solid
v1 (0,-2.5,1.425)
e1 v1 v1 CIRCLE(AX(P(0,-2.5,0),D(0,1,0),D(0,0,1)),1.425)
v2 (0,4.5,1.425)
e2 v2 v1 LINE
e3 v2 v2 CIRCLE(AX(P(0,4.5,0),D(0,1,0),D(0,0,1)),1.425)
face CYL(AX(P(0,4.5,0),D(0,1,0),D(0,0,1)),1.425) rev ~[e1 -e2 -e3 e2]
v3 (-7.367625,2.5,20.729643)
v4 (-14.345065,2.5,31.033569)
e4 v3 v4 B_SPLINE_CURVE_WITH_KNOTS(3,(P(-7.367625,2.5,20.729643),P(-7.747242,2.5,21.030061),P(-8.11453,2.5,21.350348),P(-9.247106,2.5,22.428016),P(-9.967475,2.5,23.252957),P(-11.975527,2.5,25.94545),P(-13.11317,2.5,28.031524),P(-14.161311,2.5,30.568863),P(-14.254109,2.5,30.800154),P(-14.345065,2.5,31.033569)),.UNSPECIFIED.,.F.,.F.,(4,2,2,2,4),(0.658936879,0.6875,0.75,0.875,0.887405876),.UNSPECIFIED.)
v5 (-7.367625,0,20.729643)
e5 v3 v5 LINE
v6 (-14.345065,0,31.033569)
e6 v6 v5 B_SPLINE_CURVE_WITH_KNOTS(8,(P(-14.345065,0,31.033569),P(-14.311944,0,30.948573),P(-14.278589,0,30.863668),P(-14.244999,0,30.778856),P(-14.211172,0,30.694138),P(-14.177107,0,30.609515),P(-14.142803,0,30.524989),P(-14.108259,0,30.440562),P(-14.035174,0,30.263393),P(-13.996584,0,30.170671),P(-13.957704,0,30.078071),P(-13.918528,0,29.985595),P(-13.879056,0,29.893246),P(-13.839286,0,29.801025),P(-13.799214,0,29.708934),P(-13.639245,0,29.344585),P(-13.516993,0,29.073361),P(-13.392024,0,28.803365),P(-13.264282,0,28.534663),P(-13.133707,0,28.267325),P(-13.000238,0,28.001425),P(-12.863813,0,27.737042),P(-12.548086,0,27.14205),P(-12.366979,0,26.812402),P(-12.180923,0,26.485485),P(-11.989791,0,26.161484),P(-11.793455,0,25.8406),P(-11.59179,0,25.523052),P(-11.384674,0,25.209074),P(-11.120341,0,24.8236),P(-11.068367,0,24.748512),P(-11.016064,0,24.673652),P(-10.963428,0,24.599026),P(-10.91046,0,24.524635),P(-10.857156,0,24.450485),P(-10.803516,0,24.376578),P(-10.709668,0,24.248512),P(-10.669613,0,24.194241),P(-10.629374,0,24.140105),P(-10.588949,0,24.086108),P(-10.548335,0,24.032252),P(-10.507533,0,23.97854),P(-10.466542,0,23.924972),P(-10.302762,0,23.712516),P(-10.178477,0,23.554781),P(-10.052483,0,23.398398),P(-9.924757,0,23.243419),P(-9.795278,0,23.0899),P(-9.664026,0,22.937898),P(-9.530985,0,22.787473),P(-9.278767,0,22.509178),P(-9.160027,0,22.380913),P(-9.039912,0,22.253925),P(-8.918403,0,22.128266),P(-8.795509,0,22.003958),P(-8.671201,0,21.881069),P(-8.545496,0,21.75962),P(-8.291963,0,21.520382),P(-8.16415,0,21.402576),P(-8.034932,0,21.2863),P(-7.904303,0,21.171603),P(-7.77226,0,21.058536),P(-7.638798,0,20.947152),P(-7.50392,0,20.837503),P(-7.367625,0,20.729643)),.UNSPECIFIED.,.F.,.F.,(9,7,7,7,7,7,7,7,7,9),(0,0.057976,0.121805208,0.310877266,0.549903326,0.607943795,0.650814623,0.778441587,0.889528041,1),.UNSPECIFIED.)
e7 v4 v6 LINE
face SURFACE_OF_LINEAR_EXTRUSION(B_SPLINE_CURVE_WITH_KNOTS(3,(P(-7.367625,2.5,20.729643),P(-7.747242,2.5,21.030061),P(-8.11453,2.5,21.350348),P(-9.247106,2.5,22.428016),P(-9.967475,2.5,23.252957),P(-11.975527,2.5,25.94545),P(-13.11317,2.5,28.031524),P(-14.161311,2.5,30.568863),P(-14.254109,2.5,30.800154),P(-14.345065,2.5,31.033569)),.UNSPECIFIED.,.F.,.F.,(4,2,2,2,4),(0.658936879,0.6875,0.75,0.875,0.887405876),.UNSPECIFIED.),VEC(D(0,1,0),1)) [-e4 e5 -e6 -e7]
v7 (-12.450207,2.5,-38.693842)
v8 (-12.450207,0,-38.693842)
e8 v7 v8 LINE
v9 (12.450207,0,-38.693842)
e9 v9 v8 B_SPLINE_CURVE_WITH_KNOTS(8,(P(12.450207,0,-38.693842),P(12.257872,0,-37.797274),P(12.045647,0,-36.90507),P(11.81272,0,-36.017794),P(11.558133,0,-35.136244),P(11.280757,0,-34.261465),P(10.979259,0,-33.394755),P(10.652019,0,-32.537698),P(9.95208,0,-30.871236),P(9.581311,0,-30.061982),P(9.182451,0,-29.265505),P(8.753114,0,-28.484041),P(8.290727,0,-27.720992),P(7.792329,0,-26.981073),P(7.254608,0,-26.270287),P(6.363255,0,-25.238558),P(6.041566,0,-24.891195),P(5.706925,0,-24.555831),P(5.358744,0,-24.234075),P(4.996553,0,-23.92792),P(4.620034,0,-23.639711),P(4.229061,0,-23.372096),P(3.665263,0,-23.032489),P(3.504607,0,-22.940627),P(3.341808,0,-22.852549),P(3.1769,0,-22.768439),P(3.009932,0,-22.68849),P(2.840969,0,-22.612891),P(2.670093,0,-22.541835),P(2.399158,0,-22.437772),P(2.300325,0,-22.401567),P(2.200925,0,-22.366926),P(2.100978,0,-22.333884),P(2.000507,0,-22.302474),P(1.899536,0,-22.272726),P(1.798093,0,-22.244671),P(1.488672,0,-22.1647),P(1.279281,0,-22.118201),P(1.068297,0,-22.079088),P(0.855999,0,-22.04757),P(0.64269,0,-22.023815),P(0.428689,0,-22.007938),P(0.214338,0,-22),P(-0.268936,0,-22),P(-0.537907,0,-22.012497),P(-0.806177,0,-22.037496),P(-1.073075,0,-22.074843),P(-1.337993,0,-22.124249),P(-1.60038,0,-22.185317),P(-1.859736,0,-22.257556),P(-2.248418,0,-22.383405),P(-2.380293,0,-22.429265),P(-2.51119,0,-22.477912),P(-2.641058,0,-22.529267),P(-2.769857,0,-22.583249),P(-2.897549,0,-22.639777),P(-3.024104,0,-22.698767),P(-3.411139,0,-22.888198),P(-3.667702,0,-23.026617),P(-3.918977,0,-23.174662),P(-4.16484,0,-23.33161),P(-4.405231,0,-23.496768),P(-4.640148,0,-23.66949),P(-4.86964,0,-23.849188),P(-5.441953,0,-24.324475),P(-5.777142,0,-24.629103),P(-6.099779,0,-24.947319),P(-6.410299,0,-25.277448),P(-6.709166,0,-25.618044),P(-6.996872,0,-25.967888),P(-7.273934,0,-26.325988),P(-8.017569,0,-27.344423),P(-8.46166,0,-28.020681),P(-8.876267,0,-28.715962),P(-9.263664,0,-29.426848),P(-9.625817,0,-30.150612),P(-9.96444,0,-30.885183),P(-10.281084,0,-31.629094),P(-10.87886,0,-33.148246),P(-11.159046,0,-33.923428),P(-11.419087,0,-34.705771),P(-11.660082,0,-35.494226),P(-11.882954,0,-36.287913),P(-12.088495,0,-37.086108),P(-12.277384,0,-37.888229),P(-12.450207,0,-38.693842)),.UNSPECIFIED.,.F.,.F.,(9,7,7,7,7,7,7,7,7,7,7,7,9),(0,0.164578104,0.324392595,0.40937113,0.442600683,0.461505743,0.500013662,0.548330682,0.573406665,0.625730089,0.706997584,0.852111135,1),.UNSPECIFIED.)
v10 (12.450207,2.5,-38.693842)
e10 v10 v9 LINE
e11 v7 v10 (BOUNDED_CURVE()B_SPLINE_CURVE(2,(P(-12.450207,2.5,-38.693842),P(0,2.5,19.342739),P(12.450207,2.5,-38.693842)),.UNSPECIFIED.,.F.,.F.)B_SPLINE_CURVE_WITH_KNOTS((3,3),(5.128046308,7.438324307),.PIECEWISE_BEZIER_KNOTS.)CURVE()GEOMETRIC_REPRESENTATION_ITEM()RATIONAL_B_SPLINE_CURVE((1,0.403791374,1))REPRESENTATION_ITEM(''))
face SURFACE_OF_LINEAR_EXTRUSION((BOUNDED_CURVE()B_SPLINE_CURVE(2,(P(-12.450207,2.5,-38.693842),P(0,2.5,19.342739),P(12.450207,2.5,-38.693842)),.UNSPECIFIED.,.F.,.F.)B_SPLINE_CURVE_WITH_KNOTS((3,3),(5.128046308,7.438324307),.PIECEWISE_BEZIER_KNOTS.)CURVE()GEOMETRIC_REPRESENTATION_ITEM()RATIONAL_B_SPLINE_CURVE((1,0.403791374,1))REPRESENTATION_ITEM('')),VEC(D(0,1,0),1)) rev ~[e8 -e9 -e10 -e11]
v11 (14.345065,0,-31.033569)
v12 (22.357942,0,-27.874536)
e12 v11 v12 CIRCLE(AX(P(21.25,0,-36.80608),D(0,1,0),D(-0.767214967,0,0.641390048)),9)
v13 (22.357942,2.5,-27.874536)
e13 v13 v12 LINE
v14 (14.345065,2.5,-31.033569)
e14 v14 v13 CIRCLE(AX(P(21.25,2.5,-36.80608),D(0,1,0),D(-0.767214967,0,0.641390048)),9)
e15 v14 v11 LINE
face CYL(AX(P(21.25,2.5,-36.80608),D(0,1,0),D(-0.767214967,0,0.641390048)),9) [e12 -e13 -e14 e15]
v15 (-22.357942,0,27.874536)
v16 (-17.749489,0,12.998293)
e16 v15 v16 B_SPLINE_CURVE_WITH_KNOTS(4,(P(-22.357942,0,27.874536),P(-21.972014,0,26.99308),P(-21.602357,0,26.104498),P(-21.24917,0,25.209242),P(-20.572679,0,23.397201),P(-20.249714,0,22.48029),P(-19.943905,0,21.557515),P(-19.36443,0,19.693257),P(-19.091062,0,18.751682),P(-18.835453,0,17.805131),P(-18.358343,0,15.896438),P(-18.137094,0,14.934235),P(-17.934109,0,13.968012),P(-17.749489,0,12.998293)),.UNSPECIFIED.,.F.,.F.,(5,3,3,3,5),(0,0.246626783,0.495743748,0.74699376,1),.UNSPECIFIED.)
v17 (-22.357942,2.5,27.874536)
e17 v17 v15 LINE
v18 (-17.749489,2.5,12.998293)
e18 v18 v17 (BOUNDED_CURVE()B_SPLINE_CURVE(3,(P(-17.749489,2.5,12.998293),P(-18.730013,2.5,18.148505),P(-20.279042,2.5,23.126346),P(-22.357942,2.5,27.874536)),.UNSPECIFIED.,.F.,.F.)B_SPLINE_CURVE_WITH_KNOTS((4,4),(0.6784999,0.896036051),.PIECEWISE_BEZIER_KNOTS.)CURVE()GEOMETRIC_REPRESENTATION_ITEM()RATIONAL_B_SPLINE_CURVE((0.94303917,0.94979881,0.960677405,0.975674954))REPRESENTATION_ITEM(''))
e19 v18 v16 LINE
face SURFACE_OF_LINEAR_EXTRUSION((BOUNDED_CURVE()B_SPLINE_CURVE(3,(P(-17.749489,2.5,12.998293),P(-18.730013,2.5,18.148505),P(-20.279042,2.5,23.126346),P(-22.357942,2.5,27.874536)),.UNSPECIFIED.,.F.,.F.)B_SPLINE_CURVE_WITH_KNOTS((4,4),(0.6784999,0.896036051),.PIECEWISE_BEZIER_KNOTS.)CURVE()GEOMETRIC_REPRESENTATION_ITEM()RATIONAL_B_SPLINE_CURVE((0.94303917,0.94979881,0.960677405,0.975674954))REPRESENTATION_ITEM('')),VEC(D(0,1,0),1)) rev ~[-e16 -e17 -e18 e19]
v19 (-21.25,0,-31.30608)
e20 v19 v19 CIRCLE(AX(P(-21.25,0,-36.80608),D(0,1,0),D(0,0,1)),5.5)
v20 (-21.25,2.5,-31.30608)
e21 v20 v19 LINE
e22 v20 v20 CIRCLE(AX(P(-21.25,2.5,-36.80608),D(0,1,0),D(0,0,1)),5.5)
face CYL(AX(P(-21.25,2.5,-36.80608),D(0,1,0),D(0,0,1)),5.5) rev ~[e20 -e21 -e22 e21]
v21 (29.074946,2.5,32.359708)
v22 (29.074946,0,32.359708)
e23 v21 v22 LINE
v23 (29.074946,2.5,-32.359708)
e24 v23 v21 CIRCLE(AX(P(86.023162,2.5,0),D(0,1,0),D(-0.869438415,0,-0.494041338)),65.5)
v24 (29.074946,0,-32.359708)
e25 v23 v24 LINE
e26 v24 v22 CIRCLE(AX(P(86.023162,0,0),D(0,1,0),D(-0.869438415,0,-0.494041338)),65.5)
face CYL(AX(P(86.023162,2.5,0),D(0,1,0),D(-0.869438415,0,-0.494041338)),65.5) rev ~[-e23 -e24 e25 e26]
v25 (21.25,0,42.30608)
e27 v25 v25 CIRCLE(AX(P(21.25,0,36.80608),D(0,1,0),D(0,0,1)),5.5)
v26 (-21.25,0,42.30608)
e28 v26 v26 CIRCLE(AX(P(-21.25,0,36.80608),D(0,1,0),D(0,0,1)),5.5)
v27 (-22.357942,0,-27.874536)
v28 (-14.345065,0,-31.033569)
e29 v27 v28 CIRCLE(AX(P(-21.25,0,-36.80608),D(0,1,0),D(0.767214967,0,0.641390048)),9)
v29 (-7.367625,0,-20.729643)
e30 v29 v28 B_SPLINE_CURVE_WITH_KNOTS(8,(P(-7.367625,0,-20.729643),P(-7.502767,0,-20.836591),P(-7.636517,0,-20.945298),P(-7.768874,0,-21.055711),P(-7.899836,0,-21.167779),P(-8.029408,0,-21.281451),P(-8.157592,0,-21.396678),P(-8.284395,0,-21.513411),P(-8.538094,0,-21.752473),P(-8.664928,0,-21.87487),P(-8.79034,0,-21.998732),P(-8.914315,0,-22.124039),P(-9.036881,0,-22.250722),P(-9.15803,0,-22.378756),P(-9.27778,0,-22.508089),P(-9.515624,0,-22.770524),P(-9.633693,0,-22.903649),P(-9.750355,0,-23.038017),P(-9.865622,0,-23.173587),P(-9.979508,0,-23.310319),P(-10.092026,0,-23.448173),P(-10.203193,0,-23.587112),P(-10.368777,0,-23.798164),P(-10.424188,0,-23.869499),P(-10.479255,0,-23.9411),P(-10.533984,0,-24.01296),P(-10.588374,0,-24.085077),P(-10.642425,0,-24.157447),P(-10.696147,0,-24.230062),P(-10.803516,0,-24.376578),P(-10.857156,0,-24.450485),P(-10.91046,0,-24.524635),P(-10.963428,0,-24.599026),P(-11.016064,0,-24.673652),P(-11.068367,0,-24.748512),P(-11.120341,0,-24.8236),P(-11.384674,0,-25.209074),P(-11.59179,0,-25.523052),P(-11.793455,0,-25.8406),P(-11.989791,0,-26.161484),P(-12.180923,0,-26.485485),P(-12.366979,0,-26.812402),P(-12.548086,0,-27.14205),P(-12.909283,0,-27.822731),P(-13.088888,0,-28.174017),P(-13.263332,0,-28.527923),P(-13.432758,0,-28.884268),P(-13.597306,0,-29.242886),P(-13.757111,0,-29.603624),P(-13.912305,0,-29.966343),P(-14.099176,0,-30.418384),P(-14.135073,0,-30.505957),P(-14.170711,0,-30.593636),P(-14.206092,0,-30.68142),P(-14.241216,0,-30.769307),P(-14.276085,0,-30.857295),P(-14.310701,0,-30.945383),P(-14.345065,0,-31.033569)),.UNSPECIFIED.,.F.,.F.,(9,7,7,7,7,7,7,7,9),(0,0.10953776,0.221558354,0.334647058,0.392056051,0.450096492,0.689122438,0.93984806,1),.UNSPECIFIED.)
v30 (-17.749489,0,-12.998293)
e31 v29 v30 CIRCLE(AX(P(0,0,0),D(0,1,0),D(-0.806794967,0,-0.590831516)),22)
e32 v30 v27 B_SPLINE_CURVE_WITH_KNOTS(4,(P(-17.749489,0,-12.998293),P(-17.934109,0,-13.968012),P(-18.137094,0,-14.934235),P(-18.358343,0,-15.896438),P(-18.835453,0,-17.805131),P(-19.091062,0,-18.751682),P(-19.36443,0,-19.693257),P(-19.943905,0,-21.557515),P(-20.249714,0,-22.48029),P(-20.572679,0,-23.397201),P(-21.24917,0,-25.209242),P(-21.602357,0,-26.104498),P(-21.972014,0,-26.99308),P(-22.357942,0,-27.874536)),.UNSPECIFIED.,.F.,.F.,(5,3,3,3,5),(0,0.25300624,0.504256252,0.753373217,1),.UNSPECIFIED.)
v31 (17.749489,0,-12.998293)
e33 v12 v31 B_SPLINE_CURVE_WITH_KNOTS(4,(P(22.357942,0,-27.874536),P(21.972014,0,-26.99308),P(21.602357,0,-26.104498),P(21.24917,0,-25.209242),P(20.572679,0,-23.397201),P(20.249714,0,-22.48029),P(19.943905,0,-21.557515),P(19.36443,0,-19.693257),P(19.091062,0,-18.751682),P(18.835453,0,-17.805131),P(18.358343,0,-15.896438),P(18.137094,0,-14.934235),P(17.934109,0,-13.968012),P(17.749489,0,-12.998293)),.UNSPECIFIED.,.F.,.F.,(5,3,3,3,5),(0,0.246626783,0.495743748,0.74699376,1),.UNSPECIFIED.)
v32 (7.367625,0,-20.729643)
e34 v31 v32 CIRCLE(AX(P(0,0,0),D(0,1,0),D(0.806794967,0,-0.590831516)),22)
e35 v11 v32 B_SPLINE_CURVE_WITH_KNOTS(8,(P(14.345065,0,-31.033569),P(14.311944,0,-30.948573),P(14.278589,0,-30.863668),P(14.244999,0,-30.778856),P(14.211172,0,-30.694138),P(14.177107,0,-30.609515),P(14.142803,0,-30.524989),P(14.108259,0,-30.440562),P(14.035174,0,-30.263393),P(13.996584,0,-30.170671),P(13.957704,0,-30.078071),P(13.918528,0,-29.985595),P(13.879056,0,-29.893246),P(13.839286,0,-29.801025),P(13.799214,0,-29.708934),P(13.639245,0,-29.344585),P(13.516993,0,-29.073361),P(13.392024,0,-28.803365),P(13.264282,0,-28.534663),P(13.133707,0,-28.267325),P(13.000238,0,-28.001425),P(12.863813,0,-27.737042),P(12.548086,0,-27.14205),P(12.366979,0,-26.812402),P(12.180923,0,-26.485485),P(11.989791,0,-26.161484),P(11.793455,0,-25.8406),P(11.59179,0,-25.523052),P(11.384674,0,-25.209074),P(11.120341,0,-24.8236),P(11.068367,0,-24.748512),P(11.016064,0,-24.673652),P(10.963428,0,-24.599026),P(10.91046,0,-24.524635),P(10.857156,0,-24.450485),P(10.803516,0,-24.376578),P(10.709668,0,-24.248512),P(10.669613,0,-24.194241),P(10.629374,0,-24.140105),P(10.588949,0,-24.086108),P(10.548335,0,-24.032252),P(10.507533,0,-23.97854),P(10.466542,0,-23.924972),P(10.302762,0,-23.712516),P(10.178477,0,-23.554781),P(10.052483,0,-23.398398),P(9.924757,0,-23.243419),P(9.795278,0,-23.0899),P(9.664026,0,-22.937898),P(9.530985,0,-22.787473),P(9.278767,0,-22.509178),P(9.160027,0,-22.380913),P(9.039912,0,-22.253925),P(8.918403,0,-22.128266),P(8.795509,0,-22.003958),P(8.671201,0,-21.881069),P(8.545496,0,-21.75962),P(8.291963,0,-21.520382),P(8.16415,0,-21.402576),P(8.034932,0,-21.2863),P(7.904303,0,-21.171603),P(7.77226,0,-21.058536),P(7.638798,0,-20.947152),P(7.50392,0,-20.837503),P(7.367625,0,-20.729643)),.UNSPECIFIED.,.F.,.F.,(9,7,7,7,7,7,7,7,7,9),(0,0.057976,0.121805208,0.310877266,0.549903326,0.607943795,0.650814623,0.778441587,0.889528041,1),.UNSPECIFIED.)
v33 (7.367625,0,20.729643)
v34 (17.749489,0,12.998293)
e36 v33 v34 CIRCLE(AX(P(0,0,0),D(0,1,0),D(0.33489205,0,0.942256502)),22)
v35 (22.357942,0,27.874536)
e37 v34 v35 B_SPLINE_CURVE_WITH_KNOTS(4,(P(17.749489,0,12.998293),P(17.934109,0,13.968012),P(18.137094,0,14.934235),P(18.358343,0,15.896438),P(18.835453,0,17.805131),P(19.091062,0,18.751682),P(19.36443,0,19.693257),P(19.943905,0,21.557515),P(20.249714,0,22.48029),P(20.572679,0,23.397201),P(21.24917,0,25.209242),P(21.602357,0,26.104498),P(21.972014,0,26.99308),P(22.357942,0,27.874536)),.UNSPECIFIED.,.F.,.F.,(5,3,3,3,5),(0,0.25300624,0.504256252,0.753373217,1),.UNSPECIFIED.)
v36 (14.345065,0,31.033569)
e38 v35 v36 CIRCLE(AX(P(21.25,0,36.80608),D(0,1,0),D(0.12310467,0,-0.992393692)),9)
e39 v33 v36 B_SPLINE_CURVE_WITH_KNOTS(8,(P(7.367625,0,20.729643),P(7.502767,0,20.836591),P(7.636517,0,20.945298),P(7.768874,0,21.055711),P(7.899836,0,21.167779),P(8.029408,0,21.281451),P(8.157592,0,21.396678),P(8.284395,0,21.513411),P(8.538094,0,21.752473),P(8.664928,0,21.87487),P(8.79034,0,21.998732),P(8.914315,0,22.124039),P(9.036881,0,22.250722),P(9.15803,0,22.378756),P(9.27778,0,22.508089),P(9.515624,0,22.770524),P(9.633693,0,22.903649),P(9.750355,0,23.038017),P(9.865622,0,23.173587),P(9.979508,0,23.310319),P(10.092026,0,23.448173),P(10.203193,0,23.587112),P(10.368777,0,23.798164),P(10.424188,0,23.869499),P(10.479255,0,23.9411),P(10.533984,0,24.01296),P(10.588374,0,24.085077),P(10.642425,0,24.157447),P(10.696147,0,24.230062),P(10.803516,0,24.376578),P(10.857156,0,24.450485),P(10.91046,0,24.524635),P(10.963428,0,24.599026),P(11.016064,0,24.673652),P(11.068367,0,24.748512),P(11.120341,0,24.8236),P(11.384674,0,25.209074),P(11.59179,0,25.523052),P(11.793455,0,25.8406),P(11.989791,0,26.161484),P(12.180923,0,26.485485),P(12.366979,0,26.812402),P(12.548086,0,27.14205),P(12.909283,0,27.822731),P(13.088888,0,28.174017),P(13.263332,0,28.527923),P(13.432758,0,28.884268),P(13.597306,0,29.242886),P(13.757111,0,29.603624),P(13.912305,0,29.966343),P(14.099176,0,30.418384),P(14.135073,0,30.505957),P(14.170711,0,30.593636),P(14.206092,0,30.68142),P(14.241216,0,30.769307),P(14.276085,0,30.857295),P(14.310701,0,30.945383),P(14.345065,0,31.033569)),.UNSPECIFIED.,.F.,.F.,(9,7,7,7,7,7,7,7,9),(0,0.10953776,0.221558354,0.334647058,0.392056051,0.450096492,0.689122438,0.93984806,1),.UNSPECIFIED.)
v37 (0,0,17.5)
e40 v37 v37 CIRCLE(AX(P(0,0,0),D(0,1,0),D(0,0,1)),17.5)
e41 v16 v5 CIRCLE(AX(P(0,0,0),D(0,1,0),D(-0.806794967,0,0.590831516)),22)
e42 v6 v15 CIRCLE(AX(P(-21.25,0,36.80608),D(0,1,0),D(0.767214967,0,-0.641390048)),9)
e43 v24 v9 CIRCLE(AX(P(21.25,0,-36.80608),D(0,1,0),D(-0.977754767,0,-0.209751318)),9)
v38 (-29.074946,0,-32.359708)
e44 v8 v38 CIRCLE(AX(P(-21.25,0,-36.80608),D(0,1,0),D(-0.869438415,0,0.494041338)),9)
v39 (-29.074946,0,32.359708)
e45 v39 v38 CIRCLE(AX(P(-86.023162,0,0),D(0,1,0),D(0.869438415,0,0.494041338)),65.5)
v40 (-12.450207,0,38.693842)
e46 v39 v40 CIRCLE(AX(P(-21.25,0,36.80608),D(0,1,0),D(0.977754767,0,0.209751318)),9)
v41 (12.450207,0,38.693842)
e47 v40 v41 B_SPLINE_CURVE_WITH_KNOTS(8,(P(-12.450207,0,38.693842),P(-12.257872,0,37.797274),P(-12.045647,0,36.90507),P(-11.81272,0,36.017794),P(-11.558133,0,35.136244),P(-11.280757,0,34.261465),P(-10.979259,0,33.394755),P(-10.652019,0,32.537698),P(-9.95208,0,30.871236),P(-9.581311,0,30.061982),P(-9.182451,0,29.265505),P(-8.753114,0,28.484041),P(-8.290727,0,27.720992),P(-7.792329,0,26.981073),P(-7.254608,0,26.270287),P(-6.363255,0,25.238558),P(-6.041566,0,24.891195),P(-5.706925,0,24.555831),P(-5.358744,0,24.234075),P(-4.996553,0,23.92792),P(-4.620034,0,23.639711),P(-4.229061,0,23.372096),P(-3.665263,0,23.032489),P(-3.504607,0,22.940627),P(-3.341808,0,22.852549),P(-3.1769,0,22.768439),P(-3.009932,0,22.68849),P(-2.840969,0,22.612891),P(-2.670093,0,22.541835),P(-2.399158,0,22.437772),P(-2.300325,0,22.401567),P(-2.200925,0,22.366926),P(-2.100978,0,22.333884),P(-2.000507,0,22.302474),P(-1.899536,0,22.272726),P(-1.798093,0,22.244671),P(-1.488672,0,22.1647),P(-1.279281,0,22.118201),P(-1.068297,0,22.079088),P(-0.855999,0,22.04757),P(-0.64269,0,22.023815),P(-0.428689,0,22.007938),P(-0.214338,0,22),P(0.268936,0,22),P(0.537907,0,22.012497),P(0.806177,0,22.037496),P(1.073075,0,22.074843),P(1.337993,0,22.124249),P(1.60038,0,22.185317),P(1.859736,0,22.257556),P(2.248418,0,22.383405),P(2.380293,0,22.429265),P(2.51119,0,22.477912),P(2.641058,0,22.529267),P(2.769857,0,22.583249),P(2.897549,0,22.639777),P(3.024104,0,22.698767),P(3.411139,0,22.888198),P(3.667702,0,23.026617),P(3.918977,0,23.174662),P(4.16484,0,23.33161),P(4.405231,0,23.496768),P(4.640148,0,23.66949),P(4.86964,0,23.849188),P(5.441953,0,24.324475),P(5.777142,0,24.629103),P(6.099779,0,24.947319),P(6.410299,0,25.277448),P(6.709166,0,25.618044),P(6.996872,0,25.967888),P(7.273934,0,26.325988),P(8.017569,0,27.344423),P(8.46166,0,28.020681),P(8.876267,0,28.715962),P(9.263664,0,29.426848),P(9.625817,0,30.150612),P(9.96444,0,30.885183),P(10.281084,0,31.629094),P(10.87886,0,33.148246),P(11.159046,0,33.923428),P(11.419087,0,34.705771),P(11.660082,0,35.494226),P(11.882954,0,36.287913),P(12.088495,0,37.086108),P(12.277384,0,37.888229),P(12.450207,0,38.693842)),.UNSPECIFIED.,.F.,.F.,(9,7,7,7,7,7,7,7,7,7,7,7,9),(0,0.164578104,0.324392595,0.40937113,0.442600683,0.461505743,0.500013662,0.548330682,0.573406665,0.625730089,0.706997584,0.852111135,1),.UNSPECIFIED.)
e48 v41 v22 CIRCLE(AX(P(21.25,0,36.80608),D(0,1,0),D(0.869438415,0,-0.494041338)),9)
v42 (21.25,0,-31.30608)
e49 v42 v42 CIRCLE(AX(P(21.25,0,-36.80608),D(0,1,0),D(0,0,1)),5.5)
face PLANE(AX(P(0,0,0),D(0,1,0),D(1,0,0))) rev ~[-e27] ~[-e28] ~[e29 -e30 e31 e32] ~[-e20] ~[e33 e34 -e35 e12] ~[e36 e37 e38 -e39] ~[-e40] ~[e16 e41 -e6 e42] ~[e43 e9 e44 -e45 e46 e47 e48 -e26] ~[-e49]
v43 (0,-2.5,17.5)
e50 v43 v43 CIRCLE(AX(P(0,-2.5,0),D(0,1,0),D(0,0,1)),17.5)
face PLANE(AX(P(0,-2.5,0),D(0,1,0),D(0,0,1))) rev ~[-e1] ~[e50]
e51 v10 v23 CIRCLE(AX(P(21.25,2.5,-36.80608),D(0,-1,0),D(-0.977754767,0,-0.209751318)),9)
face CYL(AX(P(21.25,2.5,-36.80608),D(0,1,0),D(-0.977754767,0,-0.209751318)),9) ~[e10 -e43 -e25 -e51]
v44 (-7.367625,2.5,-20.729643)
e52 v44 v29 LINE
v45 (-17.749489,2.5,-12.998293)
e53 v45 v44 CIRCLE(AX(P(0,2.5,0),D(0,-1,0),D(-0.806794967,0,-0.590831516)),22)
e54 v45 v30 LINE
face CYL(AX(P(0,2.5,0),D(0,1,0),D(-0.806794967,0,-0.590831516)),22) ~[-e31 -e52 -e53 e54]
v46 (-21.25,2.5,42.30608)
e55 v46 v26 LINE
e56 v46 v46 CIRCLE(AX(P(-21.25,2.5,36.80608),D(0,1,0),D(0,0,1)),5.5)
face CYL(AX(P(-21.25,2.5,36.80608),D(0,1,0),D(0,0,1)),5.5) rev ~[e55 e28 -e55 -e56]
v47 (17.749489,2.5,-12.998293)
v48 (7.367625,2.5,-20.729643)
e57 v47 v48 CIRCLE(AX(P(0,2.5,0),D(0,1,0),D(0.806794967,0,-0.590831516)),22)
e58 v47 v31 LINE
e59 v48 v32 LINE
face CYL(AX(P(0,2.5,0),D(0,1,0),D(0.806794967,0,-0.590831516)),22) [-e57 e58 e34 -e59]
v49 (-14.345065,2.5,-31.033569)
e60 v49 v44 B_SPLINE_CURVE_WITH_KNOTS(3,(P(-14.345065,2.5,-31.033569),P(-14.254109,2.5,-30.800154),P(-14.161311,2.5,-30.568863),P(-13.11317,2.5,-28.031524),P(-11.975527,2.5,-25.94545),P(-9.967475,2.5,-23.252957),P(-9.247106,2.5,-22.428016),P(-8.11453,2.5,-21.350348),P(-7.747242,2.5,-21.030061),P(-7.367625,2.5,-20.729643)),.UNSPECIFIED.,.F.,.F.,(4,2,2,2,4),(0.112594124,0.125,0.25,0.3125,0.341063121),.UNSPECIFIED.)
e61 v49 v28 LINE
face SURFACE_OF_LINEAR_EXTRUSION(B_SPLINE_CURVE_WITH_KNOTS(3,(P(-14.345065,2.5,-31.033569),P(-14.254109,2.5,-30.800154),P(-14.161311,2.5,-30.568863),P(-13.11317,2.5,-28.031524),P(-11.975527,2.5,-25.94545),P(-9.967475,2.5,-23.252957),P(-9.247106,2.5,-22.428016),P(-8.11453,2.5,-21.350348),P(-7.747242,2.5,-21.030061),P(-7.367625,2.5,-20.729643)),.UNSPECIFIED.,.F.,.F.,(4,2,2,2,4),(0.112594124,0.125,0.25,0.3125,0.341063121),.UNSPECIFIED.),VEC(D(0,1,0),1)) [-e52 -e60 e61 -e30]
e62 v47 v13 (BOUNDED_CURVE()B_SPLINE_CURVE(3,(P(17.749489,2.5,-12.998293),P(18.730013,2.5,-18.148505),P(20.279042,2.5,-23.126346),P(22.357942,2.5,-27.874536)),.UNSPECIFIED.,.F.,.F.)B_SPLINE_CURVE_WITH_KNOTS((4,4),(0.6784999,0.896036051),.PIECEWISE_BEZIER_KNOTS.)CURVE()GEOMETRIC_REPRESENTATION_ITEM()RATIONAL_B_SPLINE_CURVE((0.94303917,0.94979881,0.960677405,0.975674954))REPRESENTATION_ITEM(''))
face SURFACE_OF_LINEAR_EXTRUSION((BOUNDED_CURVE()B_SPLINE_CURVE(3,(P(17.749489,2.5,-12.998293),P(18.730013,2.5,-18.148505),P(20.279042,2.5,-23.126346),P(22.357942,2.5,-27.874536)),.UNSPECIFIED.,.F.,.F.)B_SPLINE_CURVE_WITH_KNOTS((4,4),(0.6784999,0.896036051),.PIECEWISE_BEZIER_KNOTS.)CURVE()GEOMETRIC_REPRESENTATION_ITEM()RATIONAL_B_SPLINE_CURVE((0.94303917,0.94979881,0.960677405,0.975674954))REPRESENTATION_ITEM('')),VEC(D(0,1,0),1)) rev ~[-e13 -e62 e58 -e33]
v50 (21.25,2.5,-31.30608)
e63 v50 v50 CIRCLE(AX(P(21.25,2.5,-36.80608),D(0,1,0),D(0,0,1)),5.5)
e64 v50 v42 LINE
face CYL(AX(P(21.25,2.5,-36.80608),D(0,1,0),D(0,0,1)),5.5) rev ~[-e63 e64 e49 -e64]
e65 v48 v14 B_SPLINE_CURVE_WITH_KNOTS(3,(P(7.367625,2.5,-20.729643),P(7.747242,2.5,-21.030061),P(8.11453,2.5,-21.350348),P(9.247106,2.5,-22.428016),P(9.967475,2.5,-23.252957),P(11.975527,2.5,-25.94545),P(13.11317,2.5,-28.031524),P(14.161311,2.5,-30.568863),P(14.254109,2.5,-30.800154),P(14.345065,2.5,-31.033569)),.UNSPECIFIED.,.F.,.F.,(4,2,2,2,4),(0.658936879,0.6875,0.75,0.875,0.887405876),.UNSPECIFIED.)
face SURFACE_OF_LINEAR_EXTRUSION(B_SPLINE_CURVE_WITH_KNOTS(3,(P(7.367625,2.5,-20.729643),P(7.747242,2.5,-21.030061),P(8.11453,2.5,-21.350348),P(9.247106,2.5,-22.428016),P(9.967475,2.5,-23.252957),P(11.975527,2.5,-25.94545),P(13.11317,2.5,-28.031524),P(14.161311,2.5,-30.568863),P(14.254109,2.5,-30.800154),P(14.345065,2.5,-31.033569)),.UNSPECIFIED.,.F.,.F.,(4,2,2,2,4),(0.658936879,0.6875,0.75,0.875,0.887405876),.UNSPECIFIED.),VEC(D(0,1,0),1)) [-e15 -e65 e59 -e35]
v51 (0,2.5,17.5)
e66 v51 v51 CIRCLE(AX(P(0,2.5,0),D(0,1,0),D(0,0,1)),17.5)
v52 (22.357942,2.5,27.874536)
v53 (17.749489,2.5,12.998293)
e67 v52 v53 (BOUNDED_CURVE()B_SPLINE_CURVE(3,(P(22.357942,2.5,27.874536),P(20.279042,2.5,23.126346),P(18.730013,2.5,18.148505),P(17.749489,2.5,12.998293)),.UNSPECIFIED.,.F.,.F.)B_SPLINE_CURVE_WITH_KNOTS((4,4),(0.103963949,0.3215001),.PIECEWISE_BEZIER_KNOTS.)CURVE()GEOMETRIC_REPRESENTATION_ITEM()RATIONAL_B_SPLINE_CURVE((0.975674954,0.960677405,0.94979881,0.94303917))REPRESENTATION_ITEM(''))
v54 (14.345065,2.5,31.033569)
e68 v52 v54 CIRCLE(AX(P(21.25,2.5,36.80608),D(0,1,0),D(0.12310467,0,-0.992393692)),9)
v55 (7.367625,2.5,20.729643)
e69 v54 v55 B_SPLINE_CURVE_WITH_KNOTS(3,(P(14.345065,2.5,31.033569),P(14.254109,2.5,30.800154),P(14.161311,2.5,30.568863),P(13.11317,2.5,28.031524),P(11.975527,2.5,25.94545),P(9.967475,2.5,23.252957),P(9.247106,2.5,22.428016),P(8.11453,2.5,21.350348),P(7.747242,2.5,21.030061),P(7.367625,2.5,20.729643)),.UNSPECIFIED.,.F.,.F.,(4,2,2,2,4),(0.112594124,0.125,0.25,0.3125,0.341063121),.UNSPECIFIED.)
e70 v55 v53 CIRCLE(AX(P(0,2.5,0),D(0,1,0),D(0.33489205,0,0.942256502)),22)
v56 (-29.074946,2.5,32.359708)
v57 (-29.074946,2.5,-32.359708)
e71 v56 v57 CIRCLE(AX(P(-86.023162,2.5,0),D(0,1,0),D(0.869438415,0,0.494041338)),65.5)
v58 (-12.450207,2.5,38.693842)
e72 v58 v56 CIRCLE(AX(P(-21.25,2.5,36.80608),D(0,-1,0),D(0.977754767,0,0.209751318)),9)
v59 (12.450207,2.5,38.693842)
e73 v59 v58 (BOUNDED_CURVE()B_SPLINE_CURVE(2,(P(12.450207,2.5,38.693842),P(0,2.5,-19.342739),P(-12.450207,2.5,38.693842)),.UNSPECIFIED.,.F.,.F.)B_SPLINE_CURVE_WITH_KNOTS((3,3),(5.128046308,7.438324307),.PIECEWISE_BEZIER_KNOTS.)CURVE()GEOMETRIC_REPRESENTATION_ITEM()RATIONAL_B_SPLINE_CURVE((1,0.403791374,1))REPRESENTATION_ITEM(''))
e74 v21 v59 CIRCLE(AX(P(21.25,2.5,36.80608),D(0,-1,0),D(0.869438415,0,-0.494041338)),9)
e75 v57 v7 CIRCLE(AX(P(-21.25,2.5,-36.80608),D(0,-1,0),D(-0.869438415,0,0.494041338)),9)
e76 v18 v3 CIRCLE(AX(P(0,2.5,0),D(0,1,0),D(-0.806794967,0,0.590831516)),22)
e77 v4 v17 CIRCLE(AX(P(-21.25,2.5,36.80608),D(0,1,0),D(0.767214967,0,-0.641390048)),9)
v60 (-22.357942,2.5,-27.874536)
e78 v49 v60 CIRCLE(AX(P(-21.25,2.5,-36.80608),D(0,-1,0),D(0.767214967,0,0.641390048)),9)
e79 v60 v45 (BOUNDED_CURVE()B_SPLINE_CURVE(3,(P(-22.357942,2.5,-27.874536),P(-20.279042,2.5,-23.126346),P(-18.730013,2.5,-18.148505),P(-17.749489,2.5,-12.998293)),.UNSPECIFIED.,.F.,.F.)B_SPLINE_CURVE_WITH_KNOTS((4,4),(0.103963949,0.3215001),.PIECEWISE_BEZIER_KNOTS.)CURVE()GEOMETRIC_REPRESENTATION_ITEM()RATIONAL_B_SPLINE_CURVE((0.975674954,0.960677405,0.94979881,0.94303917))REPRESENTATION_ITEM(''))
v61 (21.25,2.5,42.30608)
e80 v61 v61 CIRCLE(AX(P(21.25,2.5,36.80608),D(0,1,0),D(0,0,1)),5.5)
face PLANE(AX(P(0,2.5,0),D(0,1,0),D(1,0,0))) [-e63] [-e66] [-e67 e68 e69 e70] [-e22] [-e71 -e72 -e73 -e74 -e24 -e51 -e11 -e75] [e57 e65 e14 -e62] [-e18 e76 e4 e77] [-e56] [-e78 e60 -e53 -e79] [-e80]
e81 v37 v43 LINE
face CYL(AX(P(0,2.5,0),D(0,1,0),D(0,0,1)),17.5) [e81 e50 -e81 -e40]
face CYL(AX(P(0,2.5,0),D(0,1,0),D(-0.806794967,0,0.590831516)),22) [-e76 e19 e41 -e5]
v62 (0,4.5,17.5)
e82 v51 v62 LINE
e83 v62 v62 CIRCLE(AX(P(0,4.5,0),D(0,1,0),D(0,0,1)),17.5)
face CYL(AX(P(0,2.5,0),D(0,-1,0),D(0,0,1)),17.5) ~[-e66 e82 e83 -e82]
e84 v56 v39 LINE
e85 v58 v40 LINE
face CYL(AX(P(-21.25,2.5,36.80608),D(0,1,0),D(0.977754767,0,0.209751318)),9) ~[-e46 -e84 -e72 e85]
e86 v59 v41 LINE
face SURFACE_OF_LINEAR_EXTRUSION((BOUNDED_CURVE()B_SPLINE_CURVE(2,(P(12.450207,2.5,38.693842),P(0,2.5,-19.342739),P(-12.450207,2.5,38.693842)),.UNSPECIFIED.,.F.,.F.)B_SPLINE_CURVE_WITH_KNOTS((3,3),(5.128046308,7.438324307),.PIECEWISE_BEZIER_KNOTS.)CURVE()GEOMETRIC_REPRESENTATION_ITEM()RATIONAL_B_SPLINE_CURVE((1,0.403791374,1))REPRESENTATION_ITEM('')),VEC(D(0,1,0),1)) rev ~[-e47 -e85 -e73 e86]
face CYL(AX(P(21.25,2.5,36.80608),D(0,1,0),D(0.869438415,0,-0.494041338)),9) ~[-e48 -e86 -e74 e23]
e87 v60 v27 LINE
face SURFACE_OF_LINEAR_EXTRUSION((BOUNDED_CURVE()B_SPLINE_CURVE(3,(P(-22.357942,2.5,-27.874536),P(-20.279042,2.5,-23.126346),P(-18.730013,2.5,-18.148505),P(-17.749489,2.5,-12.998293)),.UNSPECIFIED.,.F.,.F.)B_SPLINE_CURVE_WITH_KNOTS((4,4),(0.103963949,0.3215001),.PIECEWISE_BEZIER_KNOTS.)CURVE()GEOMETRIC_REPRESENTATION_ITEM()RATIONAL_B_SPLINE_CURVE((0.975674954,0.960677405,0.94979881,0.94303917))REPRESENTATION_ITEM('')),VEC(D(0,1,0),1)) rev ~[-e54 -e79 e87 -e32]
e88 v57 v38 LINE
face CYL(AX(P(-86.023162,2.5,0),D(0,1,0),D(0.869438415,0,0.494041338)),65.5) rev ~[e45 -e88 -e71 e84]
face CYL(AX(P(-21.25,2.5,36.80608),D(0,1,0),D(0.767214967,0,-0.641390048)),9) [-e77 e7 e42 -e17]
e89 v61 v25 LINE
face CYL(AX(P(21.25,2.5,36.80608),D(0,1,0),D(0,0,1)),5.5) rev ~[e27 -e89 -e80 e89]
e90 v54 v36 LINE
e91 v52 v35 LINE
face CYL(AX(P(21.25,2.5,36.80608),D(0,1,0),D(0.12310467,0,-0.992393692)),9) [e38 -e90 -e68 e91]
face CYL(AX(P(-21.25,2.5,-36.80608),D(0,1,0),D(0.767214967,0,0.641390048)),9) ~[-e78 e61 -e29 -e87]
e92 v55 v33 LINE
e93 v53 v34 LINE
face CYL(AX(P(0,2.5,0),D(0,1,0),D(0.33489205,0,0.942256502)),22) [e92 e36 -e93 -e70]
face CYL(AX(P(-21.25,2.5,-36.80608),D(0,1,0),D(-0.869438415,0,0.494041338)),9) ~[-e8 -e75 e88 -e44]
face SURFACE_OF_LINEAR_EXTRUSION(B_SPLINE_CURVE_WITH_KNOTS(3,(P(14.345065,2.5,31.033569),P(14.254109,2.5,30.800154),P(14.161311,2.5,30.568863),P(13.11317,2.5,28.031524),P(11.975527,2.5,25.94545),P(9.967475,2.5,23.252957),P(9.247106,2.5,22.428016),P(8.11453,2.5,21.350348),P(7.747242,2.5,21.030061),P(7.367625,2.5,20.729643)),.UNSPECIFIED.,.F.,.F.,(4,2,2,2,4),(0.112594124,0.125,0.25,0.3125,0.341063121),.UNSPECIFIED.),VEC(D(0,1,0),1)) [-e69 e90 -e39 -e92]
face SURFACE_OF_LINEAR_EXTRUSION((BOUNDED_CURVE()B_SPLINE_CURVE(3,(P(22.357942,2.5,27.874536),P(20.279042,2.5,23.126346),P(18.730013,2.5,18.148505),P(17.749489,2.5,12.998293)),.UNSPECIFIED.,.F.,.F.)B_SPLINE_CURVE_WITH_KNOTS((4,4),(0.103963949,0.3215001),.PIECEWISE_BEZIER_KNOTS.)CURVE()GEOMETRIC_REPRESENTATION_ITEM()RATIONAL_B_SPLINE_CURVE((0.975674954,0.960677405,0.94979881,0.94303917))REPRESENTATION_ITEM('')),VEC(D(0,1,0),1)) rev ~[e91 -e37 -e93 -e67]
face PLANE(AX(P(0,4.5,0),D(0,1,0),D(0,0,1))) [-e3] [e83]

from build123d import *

# Parameters (mm, degrees)
SKETCH1_W                 = 100
SKETCH1_H                 = 100
BOSS_EXTRUDE1_DEPTH       = 2.5
SKETCH2_W                 = 100
SKETCH2_H                 = 100
SKETCH2_R                 = 5.5
CUT_EXTRUDE1_DEPTH        = 10
CUT_EXTRUDE3_DEPTH        = 10
SKETCH6_R                 = 17.5
BOSS_EXTRUDE11_DEPTH      = 2
BOSS_EXTRUDE11_DEPTH_BACK = 5
SKETCH7_R                 = 1.425
CUT_EXTRUDE4_DEPTH        = 56.337685614


with BuildPart() as part:
    # Sketch1 → Boss-Extrude1 (new body)
    with BuildSketch(Plane(origin=(0, 0, 0), x_dir=(1, 0, 0), z_dir=(0, 1, 0))):
        Rectangle(SKETCH1_W, SKETCH1_H)
    extrude(amount=BOSS_EXTRUDE1_DEPTH)

    # Sketch2 → Cut-Extrude1 (cut)
    with BuildSketch(Plane(origin=(0, 2.5, 0), x_dir=(1, 0, 0), z_dir=(0, 1, 0))):
        Rectangle(SKETCH2_W, SKETCH2_H)
        with BuildLine():
            ThreePointArc((-29.074945731, -32.359707621), (-20.523161881, 0), (-29.074945731, 32.359707621))
            ThreePointArc((-29.074945731, 32.359707621), (-24.454355603, 45.216317777), (-12.450207096, 38.693841525))
            add(Edge.make_bspline(
                [(-12.450207096, 38.693841525), (0, -19.342739332), (12.450207096, 38.693841525)],
                knots=[5.128046308, 5.128046308, 5.128046308, 7.438324307, 7.438324307, 7.438324307], degree=2, weights=[1, 0.403791374, 1]))
            ThreePointArc((12.450207096, 38.693841525), (24.454355603, 45.216317777), (29.074945731, 32.359707621))
            ThreePointArc((29.074945731, 32.359707621), (20.523161881, 0), (29.074945731, -32.359707621))
            ThreePointArc((29.074945731, -32.359707621), (24.454355603, -45.216317777), (12.450207096, -38.693841525))
            add(Edge.make_bspline(
                [(12.450207096, -38.693841525), (0, 19.342739332), (-12.450207096, -38.693841525)],
                knots=[5.128046308, 5.128046308, 5.128046308, 7.438324307, 7.438324307, 7.438324307], degree=2, weights=[1, 0.403791374, 1]))
            ThreePointArc((-12.450207096, -38.693841525), (-24.454355603, -45.216317777), (-29.074945731, -32.359707621))
        make_face(mode=Mode.SUBTRACT)
        with Locations(Location((-21.25, 36.806079661, 0), (0, 0, 270))):
            Circle(SKETCH2_R)
        with Locations(Location((-21.25, -36.806079661, 0), (0, 0, 270))):
            Circle(SKETCH2_R)
        with Locations(Location((21.25, -36.806079661, 0), (0, 0, 270))):
            Circle(SKETCH2_R)
        with Locations(Location((21.25, 36.806079661, 0), (0, 0, 270))):
            Circle(SKETCH2_R)
    extrude(amount=-CUT_EXTRUDE1_DEPTH, mode=Mode.SUBTRACT)

    # Sketch4 → Cut-Extrude3 (cut)
    with BuildSketch(Plane(origin=(0, 2.5, 0), x_dir=(1, 0, 0), z_dir=(0, 1, 0))):
        with BuildLine():
            ThreePointArc((-17.749489284, -12.998293356), (-13.140045691, -17.64480658), (-7.367625104, -20.729643034))
            add(Edge.make_bspline(
                [(-7.367625104, -20.729643034), (-7.747241798, -21.030061446), (-8.114529726, -21.350348356), (-9.247106431, -22.428016295), (-9.96747496, -23.25295704), (-11.975526868, -25.945450431), (-13.113170007, -28.031524091), (-14.161311212, -30.568863064), (-14.254109179, -30.800153833), (-14.345065296, -31.033569225)],
                knots=[0.658936879, 0.658936879, 0.658936879, 0.658936879, 0.6875, 0.6875, 0.75, 0.75, 0.875, 0.875, 0.887405876, 0.887405876, 0.887405876, 0.887405876], degree=3))
            ThreePointArc((-14.345065296, -31.033569225), (-17.949067849, -28.433275654), (-22.357942029, -27.874536431))
            add(Edge.make_bspline(
                [(-17.749489284, -12.998293356), (-18.730013182, -18.148505445), (-20.279042278, -23.126345909), (-22.357942029, -27.874536431)],
                knots=[0.6784999, 0.6784999, 0.6784999, 0.6784999, 0.896036051, 0.896036051, 0.896036051, 0.896036051], degree=3, weights=[0.94303917, 0.94979881, 0.960677405, 0.975674954]))
        make_face()
        with BuildLine():
            ThreePointArc((7.367625104, -20.729643034), (13.140045691, -17.64480658), (17.749489284, -12.998293356))
            add(Edge.make_bspline(
                [(22.357942029, -27.874536431), (20.279042278, -23.126345909), (18.730013182, -18.148505445), (17.749489284, -12.998293356)],
                knots=[0.103963949, 0.103963949, 0.103963949, 0.103963949, 0.3215001, 0.3215001, 0.3215001, 0.3215001], degree=3, weights=[0.975674954, 0.960677405, 0.94979881, 0.94303917]))
            ThreePointArc((22.357942029, -27.874536431), (17.949067849, -28.433275654), (14.345065296, -31.033569225))
            add(Edge.make_bspline(
                [(14.345065296, -31.033569225), (14.254109179, -30.800153832), (14.161311212, -30.568863064), (13.113170007, -28.031524091), (11.975526868, -25.945450431), (9.96747496, -23.25295704), (9.247106431, -22.428016295), (8.114529726, -21.350348356), (7.747241798, -21.030061447), (7.367625104, -20.729643034)],
                knots=[0.112594124, 0.112594124, 0.112594124, 0.112594124, 0.125, 0.125, 0.25, 0.25, 0.3125, 0.3125, 0.341063121, 0.341063121, 0.341063121, 0.341063121], degree=3))
        make_face()
        with BuildLine():
            ThreePointArc((14.345065296, 31.033569225), (17.949067849, 28.433275654), (22.357942029, 27.874536431))
            add(Edge.make_bspline(
                [(17.749489284, 12.998293356), (18.730013182, 18.148505445), (20.279042278, 23.126345909), (22.357942029, 27.874536431)],
                knots=[0.6784999, 0.6784999, 0.6784999, 0.6784999, 0.896036051, 0.896036051, 0.896036051, 0.896036051], degree=3, weights=[0.94303917, 0.94979881, 0.960677405, 0.975674954]))
            ThreePointArc((17.749489284, 12.998293356), (13.140045691, 17.64480658), (7.367625104, 20.729643034))
            add(Edge.make_bspline(
                [(7.367625104, 20.729643034), (7.747241798, 21.030061446), (8.114529726, 21.350348356), (9.247106431, 22.428016295), (9.96747496, 23.25295704), (11.975526868, 25.945450431), (13.113170007, 28.031524091), (14.161311212, 30.568863064), (14.254109179, 30.800153833), (14.345065296, 31.033569225)],
                knots=[0.658936879, 0.658936879, 0.658936879, 0.658936879, 0.6875, 0.6875, 0.75, 0.75, 0.875, 0.875, 0.887405876, 0.887405876, 0.887405876, 0.887405876], degree=3))
        make_face()
        with BuildLine():
            ThreePointArc((-14.345065296, 31.033569225), (-17.949067849, 28.433275654), (-22.357942029, 27.874536431))
            add(Edge.make_bspline(
                [(-22.357942029, 27.874536431), (-20.279042278, 23.126345909), (-18.730013182, 18.148505445), (-17.749489284, 12.998293356)],
                knots=[0.103963949, 0.103963949, 0.103963949, 0.103963949, 0.3215001, 0.3215001, 0.3215001, 0.3215001], degree=3, weights=[0.975674954, 0.960677405, 0.94979881, 0.94303917]))
            ThreePointArc((-17.749489284, 12.998293356), (-13.140045691, 17.64480658), (-7.367625104, 20.729643034))
            add(Edge.make_bspline(
                [(-14.345065296, 31.033569225), (-14.254109179, 30.800153832), (-14.161311212, 30.568863064), (-13.113170007, 28.031524091), (-11.975526868, 25.945450431), (-9.96747496, 23.25295704), (-9.247106431, 22.428016295), (-8.114529726, 21.350348356), (-7.747241798, 21.030061447), (-7.367625104, 20.729643034)],
                knots=[0.112594124, 0.112594124, 0.112594124, 0.112594124, 0.125, 0.125, 0.25, 0.25, 0.3125, 0.3125, 0.341063121, 0.341063121, 0.341063121, 0.341063121], degree=3))
        make_face()
    extrude(amount=-CUT_EXTRUDE3_DEPTH, mode=Mode.SUBTRACT)

    # Sketch6 → Boss-Extrude11 (add, two sides)
    with BuildSketch(Plane(origin=(0, 2.5, 0), x_dir=(1, 0, 0), z_dir=(0, 1, 0))) as boss_extrude11_sk:
        with Locations(Location((0, 0, 0), (0, 0, 270))):
            Circle(SKETCH6_R)
    extrude(amount=BOSS_EXTRUDE11_DEPTH)
    extrude(boss_extrude11_sk.sketch, amount=-BOSS_EXTRUDE11_DEPTH_BACK)

    # Sketch7 → Cut-Extrude4 (cut, through all)
    with BuildSketch(Plane(origin=(0, 4.5, 0), x_dir=(1, 0, 0), z_dir=(0, 1, 0))):
        with Locations(Location((0, 0, 0), (0, 0, 270))):
            Circle(SKETCH7_R)
    extrude(amount=-CUT_EXTRUDE4_DEPTH, mode=Mode.SUBTRACT)


solid = part.part
